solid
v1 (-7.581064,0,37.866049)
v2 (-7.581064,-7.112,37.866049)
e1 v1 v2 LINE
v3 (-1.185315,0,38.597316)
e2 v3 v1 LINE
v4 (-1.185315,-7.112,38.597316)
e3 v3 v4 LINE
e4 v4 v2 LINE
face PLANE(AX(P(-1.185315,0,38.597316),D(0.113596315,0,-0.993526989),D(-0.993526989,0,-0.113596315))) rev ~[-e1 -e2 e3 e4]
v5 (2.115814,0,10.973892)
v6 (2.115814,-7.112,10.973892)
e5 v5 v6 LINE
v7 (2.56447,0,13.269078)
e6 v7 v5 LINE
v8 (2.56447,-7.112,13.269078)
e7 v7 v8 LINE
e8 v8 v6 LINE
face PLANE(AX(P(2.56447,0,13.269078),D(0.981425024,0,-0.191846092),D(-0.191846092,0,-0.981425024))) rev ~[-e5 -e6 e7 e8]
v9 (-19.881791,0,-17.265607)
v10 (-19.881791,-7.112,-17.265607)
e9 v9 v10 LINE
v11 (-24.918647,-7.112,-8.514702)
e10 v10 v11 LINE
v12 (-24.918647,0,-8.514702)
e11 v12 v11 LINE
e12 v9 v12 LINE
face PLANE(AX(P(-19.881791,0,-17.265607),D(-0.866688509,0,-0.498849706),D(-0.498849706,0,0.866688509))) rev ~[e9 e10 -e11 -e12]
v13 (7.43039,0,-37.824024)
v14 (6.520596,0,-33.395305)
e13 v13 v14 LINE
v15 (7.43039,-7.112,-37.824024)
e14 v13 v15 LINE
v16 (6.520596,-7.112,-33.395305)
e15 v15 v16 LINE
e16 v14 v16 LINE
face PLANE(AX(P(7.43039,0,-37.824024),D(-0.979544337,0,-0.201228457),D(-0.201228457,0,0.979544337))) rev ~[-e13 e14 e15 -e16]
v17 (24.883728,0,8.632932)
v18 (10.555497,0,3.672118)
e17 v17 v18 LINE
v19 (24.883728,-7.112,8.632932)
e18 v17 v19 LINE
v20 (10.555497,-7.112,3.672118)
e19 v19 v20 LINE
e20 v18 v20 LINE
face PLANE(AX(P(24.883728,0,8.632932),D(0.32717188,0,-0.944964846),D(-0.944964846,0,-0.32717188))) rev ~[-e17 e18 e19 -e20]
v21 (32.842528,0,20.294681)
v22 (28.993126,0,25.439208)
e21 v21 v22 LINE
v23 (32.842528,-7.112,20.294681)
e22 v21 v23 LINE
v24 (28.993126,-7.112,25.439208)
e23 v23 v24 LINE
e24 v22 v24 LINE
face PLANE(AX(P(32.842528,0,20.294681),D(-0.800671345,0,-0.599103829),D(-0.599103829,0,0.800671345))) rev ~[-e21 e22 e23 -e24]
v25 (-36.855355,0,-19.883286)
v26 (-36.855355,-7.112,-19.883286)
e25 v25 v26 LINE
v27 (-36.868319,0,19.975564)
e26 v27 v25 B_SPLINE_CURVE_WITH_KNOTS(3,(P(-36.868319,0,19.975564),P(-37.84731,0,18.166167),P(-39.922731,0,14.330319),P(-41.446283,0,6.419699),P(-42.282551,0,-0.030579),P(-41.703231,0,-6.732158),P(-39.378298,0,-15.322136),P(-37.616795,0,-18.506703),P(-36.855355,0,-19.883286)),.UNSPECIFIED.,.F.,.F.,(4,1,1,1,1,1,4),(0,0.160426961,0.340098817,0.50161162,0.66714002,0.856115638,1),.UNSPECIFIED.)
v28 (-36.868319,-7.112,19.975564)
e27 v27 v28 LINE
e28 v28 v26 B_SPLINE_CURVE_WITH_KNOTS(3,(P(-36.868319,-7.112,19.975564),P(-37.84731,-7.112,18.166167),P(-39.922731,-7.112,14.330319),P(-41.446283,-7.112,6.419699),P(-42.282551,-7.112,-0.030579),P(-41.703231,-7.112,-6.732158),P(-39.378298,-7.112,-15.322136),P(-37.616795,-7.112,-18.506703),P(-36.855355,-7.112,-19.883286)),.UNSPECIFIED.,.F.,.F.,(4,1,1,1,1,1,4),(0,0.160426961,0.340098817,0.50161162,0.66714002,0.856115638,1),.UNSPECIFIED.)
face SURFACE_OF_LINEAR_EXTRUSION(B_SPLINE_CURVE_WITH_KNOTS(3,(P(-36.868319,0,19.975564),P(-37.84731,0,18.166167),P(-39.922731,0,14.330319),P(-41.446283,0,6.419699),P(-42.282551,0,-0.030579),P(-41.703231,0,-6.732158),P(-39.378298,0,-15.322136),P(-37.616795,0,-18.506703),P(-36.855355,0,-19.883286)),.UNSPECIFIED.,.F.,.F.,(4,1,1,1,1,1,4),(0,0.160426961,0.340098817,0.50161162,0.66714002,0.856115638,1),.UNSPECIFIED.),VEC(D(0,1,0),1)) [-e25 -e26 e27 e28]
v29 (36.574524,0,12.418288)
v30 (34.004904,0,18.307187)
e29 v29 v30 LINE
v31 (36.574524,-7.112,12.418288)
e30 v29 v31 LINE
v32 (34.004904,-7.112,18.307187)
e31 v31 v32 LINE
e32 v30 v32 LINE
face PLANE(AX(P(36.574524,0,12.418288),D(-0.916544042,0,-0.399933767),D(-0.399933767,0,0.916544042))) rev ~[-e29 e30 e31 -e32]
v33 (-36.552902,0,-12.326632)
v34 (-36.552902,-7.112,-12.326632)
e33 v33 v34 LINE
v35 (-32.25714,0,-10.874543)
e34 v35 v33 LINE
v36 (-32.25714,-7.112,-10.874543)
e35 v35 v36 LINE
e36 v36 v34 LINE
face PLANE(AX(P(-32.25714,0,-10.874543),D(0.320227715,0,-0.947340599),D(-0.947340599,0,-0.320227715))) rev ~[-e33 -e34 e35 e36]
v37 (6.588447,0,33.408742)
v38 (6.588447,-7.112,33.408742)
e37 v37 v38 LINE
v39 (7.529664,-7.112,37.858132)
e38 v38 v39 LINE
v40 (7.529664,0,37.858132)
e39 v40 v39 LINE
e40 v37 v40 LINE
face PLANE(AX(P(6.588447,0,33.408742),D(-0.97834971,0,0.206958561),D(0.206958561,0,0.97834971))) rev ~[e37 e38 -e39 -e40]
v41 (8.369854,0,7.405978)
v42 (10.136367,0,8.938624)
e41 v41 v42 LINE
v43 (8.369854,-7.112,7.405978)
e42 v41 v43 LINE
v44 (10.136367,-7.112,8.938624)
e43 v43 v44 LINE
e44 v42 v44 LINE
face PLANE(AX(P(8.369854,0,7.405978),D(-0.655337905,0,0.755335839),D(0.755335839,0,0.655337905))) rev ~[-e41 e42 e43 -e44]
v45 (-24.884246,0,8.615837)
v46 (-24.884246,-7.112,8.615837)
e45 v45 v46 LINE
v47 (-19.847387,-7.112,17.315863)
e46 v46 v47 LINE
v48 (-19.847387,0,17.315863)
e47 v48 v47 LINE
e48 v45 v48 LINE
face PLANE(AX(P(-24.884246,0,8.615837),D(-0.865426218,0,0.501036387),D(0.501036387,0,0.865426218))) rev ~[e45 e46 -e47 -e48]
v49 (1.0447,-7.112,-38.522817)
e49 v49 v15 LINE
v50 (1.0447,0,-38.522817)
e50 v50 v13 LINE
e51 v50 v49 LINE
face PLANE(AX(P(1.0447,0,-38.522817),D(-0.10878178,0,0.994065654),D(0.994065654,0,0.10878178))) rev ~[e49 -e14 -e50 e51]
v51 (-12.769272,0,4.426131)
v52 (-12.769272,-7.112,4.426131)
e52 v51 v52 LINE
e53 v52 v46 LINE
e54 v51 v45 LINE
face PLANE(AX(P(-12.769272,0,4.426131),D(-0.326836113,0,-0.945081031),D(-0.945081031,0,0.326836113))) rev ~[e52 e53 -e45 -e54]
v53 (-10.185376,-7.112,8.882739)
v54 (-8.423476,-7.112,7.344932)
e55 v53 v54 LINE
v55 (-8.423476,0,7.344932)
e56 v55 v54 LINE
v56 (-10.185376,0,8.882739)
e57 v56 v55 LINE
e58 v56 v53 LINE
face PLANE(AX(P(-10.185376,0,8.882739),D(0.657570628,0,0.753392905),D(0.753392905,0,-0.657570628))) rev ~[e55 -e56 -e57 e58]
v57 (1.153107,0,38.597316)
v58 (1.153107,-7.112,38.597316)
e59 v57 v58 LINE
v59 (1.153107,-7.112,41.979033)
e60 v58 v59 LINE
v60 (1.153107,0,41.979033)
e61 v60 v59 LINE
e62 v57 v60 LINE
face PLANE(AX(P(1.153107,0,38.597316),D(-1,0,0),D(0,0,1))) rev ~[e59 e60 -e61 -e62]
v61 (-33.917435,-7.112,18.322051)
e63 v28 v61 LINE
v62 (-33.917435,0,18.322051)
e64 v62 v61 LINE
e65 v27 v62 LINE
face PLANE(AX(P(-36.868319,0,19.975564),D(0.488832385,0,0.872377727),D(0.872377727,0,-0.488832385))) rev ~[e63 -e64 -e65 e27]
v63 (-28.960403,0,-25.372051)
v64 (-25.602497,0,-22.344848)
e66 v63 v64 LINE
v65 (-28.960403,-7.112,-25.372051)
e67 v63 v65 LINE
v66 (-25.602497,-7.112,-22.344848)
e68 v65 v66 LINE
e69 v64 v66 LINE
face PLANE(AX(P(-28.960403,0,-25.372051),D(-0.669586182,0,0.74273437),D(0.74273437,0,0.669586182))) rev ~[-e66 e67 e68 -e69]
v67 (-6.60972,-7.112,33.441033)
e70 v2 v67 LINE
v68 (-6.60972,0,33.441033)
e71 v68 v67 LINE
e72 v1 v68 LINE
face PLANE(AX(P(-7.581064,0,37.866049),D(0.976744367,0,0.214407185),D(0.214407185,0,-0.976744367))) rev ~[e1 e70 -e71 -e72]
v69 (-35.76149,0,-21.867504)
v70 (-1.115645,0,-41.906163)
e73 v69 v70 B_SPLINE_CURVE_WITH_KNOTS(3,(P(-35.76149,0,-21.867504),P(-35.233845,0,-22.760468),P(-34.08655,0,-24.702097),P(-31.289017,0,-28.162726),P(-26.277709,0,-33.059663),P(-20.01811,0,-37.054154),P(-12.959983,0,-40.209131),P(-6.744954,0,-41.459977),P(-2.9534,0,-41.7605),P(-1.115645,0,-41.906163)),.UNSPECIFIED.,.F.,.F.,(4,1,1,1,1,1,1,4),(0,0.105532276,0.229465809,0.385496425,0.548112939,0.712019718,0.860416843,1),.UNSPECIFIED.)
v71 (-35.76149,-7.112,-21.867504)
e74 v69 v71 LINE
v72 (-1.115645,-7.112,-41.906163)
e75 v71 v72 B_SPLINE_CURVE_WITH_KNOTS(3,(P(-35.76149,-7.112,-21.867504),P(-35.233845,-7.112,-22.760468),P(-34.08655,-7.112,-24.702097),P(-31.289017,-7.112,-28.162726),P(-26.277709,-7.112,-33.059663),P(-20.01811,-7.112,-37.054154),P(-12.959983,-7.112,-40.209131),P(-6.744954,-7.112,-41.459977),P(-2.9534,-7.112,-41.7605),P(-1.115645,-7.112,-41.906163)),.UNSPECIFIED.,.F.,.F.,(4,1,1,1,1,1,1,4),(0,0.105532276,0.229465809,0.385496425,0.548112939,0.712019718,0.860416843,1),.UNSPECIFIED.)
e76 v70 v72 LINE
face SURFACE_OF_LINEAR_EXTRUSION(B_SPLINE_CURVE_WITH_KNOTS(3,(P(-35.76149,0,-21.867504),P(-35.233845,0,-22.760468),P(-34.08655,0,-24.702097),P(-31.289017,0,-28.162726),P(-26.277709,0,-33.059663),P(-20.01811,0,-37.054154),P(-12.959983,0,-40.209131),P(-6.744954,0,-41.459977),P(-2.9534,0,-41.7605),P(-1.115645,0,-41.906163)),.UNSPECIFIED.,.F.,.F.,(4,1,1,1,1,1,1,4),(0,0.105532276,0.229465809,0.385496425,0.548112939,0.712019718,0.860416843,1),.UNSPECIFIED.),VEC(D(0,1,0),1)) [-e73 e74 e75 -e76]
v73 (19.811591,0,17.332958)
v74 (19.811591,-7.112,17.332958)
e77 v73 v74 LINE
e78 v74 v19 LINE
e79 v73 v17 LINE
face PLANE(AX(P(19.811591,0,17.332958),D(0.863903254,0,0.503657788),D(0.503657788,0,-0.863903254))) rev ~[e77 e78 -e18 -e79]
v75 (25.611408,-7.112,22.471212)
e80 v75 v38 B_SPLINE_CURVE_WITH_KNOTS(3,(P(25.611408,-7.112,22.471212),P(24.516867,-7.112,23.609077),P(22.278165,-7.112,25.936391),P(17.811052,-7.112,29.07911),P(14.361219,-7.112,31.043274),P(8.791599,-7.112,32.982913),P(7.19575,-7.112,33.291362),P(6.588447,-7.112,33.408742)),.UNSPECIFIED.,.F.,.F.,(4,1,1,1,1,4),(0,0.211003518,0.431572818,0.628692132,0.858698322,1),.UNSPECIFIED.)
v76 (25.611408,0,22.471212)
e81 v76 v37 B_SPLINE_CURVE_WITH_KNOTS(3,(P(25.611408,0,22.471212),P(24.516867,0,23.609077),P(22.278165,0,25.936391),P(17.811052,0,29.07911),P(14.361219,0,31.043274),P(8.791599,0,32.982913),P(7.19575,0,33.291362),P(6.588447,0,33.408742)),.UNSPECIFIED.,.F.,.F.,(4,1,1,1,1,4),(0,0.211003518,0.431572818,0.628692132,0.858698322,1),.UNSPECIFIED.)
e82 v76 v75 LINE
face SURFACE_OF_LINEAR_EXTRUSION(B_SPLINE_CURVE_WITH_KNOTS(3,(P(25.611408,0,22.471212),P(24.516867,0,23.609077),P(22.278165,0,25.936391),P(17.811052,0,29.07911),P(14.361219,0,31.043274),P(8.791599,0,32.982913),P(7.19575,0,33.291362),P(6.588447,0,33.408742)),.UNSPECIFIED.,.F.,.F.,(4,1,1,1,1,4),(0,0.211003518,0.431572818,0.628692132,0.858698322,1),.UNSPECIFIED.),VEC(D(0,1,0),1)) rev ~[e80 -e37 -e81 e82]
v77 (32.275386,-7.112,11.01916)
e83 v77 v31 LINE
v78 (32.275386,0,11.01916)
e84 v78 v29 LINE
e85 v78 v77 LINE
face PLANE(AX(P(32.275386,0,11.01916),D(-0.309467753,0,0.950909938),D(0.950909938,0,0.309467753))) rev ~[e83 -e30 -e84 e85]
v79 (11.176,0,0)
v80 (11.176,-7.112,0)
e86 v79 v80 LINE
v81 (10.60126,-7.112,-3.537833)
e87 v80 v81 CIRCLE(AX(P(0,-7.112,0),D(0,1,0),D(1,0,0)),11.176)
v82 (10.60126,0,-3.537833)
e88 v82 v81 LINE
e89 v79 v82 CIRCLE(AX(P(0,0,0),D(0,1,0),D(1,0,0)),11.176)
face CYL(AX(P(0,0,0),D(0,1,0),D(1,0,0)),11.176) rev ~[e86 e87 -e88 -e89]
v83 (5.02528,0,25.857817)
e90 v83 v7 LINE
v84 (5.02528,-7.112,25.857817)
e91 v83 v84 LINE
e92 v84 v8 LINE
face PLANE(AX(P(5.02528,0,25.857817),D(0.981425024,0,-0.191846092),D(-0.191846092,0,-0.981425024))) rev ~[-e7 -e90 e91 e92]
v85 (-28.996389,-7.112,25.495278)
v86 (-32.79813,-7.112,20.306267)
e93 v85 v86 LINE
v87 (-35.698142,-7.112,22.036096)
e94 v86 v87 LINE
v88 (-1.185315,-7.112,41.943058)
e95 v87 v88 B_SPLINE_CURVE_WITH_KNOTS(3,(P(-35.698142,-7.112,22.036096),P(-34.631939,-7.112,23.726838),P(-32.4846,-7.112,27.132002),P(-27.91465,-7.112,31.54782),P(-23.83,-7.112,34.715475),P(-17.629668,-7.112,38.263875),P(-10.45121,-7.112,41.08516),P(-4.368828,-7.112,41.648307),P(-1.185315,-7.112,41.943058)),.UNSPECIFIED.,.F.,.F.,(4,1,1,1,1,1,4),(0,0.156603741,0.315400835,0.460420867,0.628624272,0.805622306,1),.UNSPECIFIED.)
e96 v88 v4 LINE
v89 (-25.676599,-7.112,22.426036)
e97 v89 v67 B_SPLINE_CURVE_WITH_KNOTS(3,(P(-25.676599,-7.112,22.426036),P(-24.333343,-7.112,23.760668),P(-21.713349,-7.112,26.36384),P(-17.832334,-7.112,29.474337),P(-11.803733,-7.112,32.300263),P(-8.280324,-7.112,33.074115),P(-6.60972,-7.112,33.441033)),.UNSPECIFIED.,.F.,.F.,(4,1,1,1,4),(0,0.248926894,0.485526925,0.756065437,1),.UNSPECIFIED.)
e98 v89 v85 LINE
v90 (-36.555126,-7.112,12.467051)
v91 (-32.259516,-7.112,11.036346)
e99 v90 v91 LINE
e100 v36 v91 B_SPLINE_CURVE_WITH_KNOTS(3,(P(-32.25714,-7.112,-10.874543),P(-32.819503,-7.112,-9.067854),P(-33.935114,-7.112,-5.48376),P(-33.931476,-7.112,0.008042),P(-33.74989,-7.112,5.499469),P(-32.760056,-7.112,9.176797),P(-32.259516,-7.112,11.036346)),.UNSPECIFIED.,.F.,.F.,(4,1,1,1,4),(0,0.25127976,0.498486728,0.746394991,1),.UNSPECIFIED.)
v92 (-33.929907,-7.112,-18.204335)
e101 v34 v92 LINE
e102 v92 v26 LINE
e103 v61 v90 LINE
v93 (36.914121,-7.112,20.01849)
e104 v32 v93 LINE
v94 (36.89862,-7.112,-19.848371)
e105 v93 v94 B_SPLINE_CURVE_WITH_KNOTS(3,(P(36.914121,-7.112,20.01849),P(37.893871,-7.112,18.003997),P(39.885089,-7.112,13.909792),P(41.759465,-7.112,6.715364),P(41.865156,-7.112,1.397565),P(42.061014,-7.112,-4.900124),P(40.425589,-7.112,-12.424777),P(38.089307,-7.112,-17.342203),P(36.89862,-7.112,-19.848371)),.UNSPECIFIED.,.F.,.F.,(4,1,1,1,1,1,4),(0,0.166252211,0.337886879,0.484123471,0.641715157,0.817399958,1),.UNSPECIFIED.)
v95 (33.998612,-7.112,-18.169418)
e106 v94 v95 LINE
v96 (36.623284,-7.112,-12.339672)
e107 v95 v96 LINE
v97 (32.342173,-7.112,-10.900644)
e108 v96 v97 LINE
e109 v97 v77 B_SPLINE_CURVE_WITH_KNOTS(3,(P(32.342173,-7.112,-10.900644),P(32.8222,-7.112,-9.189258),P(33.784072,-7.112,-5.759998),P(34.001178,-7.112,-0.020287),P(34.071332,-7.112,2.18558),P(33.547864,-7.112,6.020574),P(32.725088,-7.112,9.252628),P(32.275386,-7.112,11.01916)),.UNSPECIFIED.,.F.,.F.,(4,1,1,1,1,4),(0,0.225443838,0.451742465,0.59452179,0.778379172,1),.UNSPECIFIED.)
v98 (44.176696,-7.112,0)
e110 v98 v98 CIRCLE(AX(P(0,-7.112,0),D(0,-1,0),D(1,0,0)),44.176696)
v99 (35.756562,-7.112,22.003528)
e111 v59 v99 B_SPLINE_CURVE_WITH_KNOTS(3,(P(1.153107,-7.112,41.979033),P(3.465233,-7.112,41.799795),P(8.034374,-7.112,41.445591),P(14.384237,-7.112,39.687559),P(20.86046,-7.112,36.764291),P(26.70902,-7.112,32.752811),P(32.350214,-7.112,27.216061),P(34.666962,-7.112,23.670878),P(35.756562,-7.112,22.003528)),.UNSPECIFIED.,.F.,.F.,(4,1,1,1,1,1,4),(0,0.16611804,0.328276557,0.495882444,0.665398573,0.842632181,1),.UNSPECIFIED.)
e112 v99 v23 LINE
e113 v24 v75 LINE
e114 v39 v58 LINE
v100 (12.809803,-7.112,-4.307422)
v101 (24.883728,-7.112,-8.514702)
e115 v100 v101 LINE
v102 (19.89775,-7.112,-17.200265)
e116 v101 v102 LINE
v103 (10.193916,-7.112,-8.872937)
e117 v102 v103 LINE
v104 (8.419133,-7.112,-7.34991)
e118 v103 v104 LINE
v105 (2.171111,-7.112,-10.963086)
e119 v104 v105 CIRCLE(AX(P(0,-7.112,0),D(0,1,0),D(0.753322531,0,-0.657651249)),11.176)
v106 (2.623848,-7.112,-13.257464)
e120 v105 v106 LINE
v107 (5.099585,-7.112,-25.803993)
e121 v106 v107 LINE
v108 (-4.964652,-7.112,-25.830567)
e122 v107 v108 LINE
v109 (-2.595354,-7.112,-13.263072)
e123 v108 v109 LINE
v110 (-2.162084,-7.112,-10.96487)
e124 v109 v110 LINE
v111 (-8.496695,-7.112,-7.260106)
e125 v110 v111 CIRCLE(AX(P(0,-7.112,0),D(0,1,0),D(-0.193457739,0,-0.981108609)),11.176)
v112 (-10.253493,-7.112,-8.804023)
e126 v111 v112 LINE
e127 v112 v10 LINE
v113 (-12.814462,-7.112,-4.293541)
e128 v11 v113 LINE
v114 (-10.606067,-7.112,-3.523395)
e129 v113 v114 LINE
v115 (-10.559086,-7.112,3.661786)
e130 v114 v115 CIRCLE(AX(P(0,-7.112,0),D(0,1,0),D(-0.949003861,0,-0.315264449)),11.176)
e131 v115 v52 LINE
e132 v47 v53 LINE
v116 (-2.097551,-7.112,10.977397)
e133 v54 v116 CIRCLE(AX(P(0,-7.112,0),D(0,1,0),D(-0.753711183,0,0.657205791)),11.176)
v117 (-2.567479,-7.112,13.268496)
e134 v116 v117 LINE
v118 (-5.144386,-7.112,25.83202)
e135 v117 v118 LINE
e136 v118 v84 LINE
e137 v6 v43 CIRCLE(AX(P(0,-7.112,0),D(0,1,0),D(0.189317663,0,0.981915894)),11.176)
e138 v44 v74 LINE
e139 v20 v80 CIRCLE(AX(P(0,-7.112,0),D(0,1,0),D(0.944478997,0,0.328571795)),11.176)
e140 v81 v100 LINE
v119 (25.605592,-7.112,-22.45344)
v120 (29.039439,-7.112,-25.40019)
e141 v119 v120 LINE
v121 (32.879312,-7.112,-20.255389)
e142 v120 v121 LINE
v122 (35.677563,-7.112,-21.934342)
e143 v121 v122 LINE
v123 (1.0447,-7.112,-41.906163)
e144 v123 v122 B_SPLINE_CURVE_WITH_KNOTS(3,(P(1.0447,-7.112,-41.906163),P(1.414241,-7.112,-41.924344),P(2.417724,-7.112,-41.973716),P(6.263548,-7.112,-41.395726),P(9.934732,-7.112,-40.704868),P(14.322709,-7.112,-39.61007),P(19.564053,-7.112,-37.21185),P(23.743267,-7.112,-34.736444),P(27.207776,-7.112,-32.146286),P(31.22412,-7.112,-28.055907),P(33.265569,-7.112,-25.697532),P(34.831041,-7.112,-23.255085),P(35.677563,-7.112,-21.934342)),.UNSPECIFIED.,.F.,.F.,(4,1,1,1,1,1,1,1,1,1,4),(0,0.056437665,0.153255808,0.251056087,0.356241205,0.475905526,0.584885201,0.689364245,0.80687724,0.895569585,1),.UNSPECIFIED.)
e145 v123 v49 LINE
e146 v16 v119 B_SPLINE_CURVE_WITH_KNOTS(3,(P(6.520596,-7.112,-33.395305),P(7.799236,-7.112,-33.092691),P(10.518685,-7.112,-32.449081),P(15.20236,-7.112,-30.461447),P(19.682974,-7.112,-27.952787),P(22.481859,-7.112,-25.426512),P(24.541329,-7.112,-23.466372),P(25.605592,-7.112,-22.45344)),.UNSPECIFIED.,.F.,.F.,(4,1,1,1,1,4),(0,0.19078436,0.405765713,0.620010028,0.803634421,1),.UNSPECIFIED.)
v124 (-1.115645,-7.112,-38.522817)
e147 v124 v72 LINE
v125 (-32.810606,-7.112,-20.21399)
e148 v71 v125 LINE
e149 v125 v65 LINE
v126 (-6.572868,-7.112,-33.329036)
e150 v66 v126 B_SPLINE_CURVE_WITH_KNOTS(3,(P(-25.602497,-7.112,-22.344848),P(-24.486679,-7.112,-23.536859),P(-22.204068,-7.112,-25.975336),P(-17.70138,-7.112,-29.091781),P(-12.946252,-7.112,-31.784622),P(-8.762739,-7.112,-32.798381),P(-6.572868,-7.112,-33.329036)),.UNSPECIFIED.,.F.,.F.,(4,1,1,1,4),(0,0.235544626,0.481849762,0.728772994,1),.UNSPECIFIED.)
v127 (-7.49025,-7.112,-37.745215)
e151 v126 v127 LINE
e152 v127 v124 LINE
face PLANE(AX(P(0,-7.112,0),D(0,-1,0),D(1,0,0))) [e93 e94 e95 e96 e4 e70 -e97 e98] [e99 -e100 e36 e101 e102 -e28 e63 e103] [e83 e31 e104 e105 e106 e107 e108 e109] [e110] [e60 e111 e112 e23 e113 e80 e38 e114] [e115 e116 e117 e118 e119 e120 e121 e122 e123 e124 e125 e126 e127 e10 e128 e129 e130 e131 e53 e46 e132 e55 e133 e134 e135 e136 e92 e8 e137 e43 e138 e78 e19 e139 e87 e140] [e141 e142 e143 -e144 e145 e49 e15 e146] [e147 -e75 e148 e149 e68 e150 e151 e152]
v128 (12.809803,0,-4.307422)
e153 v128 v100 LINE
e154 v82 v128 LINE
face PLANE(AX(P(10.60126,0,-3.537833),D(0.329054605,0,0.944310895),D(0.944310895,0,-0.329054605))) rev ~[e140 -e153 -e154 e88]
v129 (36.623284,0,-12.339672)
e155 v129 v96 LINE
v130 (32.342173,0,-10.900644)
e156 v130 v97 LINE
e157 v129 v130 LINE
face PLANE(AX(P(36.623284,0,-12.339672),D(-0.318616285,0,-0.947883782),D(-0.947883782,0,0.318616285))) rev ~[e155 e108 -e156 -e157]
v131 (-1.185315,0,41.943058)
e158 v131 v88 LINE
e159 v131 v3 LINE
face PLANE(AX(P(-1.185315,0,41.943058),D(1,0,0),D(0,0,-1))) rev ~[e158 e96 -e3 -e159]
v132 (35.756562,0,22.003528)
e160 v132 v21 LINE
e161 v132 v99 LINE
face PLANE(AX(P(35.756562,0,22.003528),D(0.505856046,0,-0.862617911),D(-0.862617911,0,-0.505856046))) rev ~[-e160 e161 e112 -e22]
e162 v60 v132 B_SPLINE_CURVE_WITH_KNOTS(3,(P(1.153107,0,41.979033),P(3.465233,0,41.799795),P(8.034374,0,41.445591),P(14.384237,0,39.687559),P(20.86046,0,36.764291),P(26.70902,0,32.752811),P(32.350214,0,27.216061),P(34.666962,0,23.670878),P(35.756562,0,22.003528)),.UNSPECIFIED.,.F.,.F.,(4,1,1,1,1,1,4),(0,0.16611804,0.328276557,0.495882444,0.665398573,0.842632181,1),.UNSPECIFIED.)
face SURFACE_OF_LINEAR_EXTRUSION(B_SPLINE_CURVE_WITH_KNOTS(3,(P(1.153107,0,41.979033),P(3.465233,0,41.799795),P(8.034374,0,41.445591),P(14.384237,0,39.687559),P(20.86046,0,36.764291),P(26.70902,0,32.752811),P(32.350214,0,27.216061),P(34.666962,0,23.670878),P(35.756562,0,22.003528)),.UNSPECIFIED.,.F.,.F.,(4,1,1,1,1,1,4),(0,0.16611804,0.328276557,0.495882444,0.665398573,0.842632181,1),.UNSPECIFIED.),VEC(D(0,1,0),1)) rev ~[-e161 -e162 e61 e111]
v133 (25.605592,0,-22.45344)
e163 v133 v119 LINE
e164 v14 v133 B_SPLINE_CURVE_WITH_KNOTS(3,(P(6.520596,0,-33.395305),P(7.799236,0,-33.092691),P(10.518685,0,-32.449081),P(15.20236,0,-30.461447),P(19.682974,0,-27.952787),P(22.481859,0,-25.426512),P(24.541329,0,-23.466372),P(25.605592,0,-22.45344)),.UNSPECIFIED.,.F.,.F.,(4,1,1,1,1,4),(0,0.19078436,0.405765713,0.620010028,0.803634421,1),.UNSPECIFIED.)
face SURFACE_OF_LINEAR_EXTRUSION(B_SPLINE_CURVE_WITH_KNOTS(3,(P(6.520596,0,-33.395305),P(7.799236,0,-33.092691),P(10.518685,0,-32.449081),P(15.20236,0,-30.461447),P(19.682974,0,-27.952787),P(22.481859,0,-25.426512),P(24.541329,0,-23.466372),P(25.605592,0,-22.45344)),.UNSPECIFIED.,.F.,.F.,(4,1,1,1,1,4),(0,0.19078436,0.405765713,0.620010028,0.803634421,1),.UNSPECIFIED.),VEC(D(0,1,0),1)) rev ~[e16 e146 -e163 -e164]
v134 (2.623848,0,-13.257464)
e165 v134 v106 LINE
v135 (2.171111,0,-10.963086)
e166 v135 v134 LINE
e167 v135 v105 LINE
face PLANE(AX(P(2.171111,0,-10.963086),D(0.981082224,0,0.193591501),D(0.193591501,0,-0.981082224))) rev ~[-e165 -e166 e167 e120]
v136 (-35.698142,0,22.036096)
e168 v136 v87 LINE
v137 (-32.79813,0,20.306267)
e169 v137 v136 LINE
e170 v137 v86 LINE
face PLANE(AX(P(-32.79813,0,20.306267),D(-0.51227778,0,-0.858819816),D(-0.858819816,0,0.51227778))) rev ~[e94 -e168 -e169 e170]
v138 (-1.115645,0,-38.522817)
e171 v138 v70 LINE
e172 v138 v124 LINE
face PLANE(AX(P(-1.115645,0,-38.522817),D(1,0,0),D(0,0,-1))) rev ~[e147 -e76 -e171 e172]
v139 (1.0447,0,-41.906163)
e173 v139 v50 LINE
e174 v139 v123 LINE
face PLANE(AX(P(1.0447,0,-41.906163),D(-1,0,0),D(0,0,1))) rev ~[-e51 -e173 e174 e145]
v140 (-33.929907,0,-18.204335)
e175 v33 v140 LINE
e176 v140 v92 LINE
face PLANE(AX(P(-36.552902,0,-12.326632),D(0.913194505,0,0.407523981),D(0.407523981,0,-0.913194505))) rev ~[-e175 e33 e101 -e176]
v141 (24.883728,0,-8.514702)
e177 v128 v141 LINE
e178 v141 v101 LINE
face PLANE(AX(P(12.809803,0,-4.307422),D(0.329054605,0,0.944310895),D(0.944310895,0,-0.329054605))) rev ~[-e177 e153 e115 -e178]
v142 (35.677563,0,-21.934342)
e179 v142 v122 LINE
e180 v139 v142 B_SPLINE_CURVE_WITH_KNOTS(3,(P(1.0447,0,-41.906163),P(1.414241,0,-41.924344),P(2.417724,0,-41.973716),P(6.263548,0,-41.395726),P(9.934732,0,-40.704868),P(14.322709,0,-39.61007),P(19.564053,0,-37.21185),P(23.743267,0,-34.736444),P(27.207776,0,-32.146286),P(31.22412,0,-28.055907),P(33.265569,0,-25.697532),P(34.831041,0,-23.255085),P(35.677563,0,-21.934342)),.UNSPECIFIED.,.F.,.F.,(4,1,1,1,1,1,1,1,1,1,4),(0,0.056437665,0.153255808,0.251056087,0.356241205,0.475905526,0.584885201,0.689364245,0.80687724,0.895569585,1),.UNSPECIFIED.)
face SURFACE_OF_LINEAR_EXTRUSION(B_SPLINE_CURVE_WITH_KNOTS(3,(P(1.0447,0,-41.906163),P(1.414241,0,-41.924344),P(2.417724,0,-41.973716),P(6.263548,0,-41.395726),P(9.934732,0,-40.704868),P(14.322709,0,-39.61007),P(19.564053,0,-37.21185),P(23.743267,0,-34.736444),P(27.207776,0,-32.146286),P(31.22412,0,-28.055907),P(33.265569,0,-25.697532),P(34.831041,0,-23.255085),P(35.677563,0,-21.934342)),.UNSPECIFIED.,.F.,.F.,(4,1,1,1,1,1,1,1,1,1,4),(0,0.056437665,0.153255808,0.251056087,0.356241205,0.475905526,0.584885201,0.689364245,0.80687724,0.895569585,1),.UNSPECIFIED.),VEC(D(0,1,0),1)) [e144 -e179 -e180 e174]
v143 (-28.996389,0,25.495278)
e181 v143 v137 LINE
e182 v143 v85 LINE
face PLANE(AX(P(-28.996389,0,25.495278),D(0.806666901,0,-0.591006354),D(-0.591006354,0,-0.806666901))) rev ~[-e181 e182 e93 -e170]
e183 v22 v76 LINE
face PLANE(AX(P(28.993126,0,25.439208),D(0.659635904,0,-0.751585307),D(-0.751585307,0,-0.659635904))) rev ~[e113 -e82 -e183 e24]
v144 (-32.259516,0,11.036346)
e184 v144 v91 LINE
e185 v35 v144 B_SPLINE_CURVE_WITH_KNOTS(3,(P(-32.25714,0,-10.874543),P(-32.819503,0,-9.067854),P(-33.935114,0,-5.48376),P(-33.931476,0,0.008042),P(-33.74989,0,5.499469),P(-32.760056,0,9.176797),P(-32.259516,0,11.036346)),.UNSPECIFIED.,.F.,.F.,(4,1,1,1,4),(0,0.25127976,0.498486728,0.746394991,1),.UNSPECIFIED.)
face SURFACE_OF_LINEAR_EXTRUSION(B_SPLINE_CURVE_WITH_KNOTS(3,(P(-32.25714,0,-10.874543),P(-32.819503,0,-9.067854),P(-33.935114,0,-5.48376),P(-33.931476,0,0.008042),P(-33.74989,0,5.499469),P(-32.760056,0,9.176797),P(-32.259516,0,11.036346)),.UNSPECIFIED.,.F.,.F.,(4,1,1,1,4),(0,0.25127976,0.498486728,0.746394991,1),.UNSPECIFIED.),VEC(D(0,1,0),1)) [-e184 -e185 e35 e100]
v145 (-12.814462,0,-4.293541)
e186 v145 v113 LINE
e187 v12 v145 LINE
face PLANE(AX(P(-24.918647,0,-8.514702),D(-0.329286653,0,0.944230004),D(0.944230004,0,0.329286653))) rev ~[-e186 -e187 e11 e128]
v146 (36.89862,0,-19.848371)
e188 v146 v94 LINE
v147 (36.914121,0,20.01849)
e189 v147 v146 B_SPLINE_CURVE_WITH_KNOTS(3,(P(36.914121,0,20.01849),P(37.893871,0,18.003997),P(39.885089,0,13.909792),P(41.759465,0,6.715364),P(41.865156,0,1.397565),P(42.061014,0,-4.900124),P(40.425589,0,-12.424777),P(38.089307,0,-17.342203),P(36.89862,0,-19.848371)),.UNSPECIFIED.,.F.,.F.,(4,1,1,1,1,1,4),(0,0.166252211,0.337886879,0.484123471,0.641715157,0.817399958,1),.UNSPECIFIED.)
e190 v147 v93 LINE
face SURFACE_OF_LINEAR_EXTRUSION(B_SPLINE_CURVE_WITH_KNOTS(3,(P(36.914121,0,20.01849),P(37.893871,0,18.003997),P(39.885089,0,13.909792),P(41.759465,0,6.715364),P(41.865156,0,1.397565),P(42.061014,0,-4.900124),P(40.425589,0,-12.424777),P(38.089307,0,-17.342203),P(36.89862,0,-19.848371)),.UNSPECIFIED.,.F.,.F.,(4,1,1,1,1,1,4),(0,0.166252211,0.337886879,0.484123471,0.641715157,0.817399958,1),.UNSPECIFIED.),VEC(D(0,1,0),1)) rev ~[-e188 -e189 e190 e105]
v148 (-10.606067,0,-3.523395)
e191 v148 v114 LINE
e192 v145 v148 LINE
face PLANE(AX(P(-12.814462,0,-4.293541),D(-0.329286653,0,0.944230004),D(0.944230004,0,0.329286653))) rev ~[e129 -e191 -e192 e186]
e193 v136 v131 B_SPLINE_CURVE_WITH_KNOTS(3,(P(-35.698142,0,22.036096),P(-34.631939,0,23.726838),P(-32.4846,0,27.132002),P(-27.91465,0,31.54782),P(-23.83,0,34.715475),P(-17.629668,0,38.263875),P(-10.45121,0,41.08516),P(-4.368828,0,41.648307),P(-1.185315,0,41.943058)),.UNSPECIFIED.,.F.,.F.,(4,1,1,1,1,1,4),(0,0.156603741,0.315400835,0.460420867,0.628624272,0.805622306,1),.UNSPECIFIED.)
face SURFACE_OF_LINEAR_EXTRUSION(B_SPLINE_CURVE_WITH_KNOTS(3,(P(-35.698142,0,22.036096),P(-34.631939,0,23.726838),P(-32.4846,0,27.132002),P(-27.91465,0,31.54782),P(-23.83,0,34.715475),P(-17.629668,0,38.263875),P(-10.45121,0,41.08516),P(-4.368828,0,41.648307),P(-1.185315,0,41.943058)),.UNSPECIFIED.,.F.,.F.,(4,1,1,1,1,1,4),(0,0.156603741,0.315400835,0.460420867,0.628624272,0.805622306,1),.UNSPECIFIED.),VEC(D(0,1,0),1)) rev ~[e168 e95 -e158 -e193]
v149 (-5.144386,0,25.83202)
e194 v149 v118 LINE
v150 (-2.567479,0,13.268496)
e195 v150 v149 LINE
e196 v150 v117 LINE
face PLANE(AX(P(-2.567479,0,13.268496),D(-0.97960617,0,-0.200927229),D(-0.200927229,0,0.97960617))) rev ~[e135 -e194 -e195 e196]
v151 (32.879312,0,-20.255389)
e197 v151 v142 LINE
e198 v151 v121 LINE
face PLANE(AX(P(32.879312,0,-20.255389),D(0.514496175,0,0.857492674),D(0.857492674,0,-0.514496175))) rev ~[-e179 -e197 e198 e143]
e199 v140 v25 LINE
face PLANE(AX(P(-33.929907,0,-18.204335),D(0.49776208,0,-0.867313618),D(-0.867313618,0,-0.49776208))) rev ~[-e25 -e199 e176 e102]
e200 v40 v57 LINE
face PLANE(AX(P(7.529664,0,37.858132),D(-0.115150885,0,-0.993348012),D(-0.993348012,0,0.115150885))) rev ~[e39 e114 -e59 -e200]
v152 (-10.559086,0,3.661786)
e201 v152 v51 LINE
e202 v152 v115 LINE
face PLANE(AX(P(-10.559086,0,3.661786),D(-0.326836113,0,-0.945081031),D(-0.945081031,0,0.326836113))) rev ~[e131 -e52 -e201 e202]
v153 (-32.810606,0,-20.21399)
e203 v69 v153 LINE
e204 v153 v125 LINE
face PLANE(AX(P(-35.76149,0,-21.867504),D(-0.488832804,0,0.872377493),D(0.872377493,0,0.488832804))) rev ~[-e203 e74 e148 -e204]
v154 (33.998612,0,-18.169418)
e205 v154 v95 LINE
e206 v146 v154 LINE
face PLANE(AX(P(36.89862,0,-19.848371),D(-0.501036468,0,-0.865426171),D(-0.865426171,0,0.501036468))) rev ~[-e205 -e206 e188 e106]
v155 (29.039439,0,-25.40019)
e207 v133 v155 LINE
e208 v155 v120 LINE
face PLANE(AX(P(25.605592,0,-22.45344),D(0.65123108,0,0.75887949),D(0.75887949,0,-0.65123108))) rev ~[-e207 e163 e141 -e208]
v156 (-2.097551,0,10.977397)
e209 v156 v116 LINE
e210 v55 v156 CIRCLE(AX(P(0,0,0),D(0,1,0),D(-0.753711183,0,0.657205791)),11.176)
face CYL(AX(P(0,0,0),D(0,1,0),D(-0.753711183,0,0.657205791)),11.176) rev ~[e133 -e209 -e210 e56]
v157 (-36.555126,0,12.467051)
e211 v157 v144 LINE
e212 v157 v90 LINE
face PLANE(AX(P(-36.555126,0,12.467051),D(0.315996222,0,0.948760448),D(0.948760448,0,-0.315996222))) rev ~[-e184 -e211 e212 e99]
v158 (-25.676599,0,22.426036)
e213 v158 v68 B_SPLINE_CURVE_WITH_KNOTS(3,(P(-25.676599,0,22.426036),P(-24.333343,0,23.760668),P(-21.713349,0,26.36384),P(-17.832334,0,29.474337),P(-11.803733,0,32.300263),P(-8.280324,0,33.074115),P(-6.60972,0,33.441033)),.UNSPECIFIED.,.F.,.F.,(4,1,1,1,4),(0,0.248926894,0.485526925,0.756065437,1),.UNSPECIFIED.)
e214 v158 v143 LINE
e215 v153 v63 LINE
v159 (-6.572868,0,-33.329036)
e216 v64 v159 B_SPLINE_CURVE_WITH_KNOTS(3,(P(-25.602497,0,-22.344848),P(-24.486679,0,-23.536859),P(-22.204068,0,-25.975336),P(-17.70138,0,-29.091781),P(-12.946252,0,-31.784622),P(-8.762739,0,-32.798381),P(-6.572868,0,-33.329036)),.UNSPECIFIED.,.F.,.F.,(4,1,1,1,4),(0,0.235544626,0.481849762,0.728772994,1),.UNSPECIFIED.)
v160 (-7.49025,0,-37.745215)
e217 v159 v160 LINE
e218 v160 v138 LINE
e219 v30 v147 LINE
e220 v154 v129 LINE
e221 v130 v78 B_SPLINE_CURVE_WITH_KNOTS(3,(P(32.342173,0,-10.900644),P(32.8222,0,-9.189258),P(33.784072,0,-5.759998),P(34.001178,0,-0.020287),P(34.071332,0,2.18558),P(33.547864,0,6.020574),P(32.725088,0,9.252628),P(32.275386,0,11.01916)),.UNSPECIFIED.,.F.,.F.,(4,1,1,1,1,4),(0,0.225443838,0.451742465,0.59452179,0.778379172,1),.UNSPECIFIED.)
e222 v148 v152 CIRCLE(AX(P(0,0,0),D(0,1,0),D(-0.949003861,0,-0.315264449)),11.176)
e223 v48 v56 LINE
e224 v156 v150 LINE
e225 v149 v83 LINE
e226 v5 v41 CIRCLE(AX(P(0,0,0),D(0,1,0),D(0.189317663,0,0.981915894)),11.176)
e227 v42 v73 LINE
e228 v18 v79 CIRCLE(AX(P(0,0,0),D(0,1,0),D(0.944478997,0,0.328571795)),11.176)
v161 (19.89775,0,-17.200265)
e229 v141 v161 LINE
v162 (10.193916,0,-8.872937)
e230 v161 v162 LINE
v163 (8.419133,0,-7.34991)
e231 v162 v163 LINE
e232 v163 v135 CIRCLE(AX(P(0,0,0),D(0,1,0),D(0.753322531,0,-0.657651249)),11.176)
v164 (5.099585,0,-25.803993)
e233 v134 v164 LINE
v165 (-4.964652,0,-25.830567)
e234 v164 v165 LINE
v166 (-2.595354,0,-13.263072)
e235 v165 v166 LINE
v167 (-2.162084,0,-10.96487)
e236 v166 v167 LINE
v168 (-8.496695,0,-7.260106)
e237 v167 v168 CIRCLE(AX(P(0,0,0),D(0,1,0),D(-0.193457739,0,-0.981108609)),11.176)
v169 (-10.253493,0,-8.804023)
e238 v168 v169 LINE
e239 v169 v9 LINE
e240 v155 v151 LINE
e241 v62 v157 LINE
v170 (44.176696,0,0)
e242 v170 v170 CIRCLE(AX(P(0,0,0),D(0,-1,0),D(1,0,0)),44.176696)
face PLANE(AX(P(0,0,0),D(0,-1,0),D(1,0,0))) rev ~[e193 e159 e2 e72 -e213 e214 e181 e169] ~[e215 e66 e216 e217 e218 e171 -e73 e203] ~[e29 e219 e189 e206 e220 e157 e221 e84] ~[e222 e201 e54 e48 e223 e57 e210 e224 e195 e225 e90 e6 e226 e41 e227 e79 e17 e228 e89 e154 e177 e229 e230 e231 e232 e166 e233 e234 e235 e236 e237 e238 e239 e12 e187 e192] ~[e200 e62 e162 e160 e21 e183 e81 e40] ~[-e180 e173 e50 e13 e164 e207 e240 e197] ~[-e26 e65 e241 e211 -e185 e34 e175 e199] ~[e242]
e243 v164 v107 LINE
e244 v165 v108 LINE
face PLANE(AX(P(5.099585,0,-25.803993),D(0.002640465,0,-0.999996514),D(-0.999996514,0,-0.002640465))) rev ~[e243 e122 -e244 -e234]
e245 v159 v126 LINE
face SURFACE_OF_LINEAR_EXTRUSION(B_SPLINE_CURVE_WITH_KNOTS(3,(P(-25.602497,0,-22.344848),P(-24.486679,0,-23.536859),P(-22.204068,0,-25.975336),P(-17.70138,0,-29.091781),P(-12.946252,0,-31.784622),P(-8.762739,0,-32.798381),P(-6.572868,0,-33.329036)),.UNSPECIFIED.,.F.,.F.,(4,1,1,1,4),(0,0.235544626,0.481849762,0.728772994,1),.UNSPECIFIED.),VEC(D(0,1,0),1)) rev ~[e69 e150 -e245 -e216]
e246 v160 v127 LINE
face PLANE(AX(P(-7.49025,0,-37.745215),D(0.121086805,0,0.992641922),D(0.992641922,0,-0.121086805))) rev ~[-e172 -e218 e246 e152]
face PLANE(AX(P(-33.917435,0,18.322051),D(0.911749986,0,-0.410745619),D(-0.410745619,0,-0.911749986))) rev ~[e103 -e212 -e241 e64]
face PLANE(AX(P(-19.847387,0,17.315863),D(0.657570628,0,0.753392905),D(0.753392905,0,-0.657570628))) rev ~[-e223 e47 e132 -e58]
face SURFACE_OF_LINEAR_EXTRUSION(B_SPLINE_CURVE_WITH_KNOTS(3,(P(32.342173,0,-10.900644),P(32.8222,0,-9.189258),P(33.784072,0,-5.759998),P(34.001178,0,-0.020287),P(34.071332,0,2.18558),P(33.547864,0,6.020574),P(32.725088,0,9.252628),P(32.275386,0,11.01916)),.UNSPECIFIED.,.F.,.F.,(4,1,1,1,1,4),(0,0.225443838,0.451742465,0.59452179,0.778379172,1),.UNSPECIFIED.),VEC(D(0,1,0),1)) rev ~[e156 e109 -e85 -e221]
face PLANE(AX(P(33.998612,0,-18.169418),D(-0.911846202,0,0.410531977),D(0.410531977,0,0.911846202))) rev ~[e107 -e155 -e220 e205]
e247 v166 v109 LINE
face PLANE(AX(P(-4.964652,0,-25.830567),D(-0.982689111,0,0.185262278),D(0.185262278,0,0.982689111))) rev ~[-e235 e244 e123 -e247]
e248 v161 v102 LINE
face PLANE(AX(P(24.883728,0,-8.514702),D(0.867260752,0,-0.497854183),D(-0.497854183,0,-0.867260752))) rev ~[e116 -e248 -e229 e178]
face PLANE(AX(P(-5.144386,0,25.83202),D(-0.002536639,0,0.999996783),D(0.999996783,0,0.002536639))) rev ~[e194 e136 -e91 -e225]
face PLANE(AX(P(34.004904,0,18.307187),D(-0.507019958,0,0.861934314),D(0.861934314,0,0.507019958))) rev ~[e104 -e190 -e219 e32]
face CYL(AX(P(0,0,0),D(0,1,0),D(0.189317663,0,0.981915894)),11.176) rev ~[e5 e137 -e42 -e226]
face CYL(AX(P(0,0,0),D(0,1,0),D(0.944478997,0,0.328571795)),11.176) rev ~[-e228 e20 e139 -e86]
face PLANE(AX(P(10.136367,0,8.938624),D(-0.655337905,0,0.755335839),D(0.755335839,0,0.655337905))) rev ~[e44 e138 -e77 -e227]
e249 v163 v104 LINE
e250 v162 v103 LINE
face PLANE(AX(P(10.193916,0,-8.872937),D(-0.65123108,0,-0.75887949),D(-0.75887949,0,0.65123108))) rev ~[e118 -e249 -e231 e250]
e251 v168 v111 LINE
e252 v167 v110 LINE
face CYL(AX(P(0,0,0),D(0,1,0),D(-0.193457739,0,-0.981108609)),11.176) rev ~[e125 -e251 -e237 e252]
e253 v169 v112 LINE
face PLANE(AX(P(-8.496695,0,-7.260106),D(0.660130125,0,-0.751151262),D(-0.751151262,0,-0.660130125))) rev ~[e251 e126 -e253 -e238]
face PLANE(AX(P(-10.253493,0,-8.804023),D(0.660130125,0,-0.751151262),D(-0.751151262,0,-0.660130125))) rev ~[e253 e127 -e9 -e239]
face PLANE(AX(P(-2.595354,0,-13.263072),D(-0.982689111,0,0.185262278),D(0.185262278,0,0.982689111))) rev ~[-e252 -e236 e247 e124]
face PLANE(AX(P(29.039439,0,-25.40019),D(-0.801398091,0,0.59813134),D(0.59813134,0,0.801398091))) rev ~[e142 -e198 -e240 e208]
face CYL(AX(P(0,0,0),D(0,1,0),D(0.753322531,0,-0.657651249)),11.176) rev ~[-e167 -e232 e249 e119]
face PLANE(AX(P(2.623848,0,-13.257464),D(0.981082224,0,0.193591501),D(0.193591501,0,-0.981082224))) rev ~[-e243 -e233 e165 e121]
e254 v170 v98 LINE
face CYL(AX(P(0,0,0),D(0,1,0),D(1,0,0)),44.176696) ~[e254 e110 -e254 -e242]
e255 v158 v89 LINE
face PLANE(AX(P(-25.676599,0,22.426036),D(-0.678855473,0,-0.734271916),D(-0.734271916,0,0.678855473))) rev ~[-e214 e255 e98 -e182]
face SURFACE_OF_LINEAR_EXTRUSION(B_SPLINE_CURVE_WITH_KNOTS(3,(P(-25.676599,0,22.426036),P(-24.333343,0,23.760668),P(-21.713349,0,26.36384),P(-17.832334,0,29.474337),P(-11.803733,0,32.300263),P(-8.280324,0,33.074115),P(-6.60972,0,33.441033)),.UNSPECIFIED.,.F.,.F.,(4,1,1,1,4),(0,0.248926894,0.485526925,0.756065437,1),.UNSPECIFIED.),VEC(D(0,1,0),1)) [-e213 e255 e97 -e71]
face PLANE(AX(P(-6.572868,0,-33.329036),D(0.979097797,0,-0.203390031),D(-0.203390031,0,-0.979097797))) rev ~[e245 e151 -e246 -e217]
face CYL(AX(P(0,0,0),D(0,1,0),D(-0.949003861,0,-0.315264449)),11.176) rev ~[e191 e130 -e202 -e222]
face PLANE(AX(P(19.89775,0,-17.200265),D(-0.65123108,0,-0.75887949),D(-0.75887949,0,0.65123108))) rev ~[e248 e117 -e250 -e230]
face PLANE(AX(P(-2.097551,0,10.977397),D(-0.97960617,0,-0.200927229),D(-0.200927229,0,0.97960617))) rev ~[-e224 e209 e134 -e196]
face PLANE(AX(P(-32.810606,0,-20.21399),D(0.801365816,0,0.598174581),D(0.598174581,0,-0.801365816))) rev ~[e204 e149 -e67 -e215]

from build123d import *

# Parameters (mm, degrees)
F0_R     = 44.1766957939
F1_DEPTH = 7.112


with BuildPart() as f1:
    # F0 (on Front) → F1 (new body)
    with BuildSketch(Plane.XZ):
        Circle(F0_R)
        with BuildLine():
            Line((-35.7614904642, -21.8675043434), (-32.8106060624, -20.2139895409))
            Line((-32.8106060624, -20.2139895409), (-28.960403055, -25.3720507026))
            Line((-28.960403055, -25.3720507026), (-25.6024971604, -22.3448481411))
            add(Edge.make_bspline(
                [(-25.6024971604, -22.3448481411), (-24.4866790774, -23.5368590352), (-22.204068401, -25.9753360906), (-17.7013799325, -29.0917808365), (-12.9462521926, -31.7846215915), (-8.7627386027, -32.7983811652), (-6.5728682093, -33.3290360868)],
                knots=[0, 0, 0, 0, 0.2355446258, 0.4818497619, 0.7287729939, 1, 1, 1, 1], degree=3))
            Line((-6.5728682093, -33.3290360868), (-7.490250282, -37.7452149987))
            Line((-7.490250282, -37.7452149987), (-1.1156453984, -38.5228171945))
            Line((-1.1156453984, -38.5228171945), (-1.1156453984, -41.9061630964))
            add(Edge.make_bspline(
                [(-35.7614904642, -21.8675043434), (-35.2338448714, -22.7604678514), (-34.0865501542, -24.7020974776), (-31.2890173993, -28.1627256368), (-26.2777085453, -33.0596634812), (-20.0181100974, -37.0541543915), (-12.9599832666, -40.2091309454), (-6.7449542396, -41.4599766224), (-2.9534000516, -41.7605002287), (-1.1156453984, -41.9061630964)],
                knots=[0, 0, 0, 0, 0.1055322762, 0.2294658093, 0.3854964247, 0.5481129391, 0.7120197184, 0.8604168433, 1, 1, 1, 1], degree=3))
        make_face(mode=Mode.SUBTRACT)
        with BuildLine():
            Line((29.0394388139, -25.4001896828), (32.8793115914, -20.255388692))
            Line((32.8793115914, -20.255388692), (35.6775633991, -21.9343416393))
            add(Edge.make_bspline(
                [(1.0446998058, -41.9061630964), (1.4142405393, -41.9243444832), (2.4177240084, -41.9737158229), (6.2635475029, -41.3957263121), (9.9347318114, -40.7048681306), (14.3227087538, -39.6100702965), (19.5640532357, -37.2118500308), (23.7432665832, -34.7364439875), (27.2077761914, -32.1462858648), (31.2241198499, -28.0559070873), (33.2655694418, -25.6975315778), (34.8310406537, -23.2550853619), (35.6775633991, -21.9343416393)],
                knots=[0, 0, 0, 0, 0.0564376647, 0.1532558075, 0.2510560866, 0.3562412055, 0.4759055262, 0.5848852008, 0.689364245, 0.8068772402, 0.8955695847, 1, 1, 1, 1], degree=3))
            Line((1.0446998058, -41.9061630964), (1.0446998058, -38.5228171945))
            Line((1.0446998058, -38.5228171945), (7.4303904548, -37.824023515))
            Line((7.4303904548, -37.824023515), (6.5205958672, -33.3953052759))
            add(Edge.make_bspline(
                [(6.5205958672, -33.3953052759), (7.7992360224, -33.0926907352), (10.5186850112, -32.449081348), (15.2023600967, -30.4614472633), (19.6829738823, -27.9527868768), (22.4818586441, -25.4265122473), (24.5413294263, -23.4663723344), (25.6055921743, -22.453440319)],
                knots=[0, 0, 0, 0, 0.1907843597, 0.4057657128, 0.6200100275, 0.8036344211, 1, 1, 1, 1], degree=3))
            Line((25.6055921743, -22.453440319), (29.0394388139, -25.4001896828))
        make_face(mode=Mode.SUBTRACT)
        with BuildLine():
            Line((-33.9299067855, -18.2043351233), (-36.8553549051, -19.8832862079))
            add(Edge.make_bspline(
                [(-36.8683189154, 19.9755635113), (-37.8473096829, 18.1661673169), (-39.9227314212, 14.3303188905), (-41.4462825011, 6.4196994134), (-42.2825510016, -0.0305786633), (-41.7032306283, -6.7321583358), (-39.3782984167, -15.3221356766), (-37.6167947073, -18.5067030452), (-36.8553549051, -19.8832862079)],
                knots=[0, 0, 0, 0, 0.1604269609, 0.3400988172, 0.5016116203, 0.6671400202, 0.8561156381, 1, 1, 1, 1], degree=3))
            Line((-36.8683189154, 19.9755635113), (-33.9174345136, 18.3220505714))
            Line((-33.9174345136, 18.3220505714), (-36.5551263094, 12.4670509249))
            Line((-36.5551263094, 12.4670509249), (-32.259516418, 11.0363457352))
            add(Edge.make_bspline(
                [(-32.2571396828, -10.874543339), (-32.8195026762, -9.0678543769), (-33.9351137732, -5.4837596226), (-33.931475749, 0.0080421078), (-33.7498900918, 5.4994693455), (-32.7600555231, 9.1767965485), (-32.259516418, 11.0363457352)],
                knots=[0, 0, 0, 0, 0.2512797598, 0.4984867279, 0.7463949913, 1, 1, 1, 1], degree=3))
            Line((-32.2571396828, -10.874543339), (-36.5529023111, -12.326631695))
            Line((-36.5529023111, -12.326631695), (-33.9299067855, -18.2043351233))
        make_face(mode=Mode.SUBTRACT)
        with BuildLine():
            Line((2.1711112191, -10.9630858828), (2.6238481259, -13.2574641479))
            Line((2.6238481259, -13.2574641479), (5.0995848142, -25.8039925247))
            Line((5.0995848142, -25.8039925247), (-4.9646515399, -25.8305668831))
            Line((-4.9646515399, -25.8305668831), (-2.595354112, -13.2630717277))
            Line((-2.595354112, -13.2630717277), (-2.1620836942, -10.9648698168))
            ThreePointArc((-2.1620836942, -10.9648698168), (-5.6421371106, -9.6472413065), (-8.4966954033, -7.2601062819))
            Line((-8.4966954033, -7.2601062819), (-10.2534928431, -8.8040228951))
            Line((-10.2534928431, -8.8040228951), (-19.8817905039, -17.2656066716))
            Line((-19.8817905039, -17.2656066716), (-24.918647483, -8.5147023201))
            Line((-24.918647483, -8.5147023201), (-12.8144619972, -4.2935414687))
            Line((-12.8144619972, -4.2935414687), (-10.6060671452, -3.5233954803))
            ThreePointArc((-10.6060671452, -3.5233954803), (-11.1757611038, 0.0730735954), (-10.5590862727, 3.6617855053))
            Line((-10.5590862727, 3.6617855053), (-12.769271678, 4.4261309782))
            Line((-12.769271678, 4.4261309782), (-24.8842462897, 8.6158365011))
            Line((-24.8842462897, 8.6158365011), (-19.847387448, 17.3158627003))
            Line((-19.847387448, 17.3158627003), (-10.1853755393, 8.8827394279))
            Line((-10.1853755393, 8.8827394279), (-8.4234761864, 7.3449319219))
            ThreePointArc((-8.4234761864, 7.3449319219), (-5.5652229601, 9.6918145569), (-2.0975513649, 10.9773974271))
            Line((-2.0975513649, 10.9773974271), (-2.567479075, 13.2684959894))
            Line((-2.567479075, 13.2684959894), (-5.1443860866, 25.8320197463))
            Line((-5.1443860866, 25.8320197463), (5.0252802209, 25.857816598))
            Line((5.0252802209, 25.857816598), (2.5644704001, 13.2690778198))
            Line((2.5644704001, 13.2690778198), (2.1158141978, 10.9738920297))
            ThreePointArc((2.1158141978, 10.9738920297), (5.5380334394, 9.7073766603), (8.3698544885, 7.4059781151))
            Line((8.3698544885, 7.4059781151), (10.1363668293, 8.9386241739))
            Line((10.1363668293, 8.9386241739), (19.8115911335, 17.3329580575))
            Line((19.8115911335, 17.3329580575), (24.8837284744, 8.6329318583))
            Line((24.8837284744, 8.6329318583), (12.7654122958, 4.4372495467))
            Line((12.7654122958, 4.4372495467), (10.5554972691, 3.6721183807))
            ThreePointArc((10.5554972691, 3.6721183807), (11.0197825178, 1.8620873396), (11.176, 0))
            ThreePointArc((11.176, 0), (11.0313792921, -1.7921068369), (10.6012600367, -3.5378329008))
            Line((10.6012600367, -3.5378329008), (12.8098029544, -4.3074218382))
            Line((12.8098029544, -4.3074218382), (24.8837284744, -8.5147023201))
            Line((24.8837284744, -8.5147023201), (19.8977496475, -17.2002650797))
            Line((19.8977496475, -17.2002650797), (10.1939157276, -8.8729373243))
            Line((10.1939157276, -8.8729373243), (8.419132603, -7.3499103541))
            ThreePointArc((8.419132603, -7.3499103541), (5.5948257706, -9.6747558417), (2.1711112191, -10.9630858828))
        make_face(mode=Mode.SUBTRACT)
        with BuildLine():
            add(Edge.make_bspline(
                [(-35.6981419027, 22.0360960811), (-34.6319390776, 23.7268379349), (-32.484600451, 27.1320017598), (-27.9146496351, 31.5478201486), (-23.8299996259, 34.7154749769), (-17.6296681743, 38.2638751465), (-10.4512096865, 41.0851595996), (-4.3688276658, 41.648307375), (-1.1853148462, 41.9430583715)],
                knots=[0, 0, 0, 0, 0.1566037405, 0.3154008348, 0.4604208672, 0.6286242725, 0.8056223063, 1, 1, 1, 1], degree=3))
            Line((-1.1853148462, 41.9430583715), (-1.1853148462, 38.5973155499))
            Line((-1.1853148462, 38.5973155499), (-7.5810640119, 37.8660485148))
            Line((-7.5810640119, 37.8660485148), (-6.6097197123, 33.4410332143))
            add(Edge.make_bspline(
                [(-25.6765991733, 22.4260363519), (-24.3333432454, 23.7606678176), (-21.7133494369, 26.3638397849), (-17.8323338836, 29.4743374528), (-11.8037332381, 32.3002630954), (-8.2803244864, 33.0741154161), (-6.6097197123, 33.4410332143)],
                knots=[0, 0, 0, 0, 0.2489268939, 0.4855269254, 0.7560654369, 1, 1, 1, 1], degree=3))
            Line((-25.6765991733, 22.4260363519), (-28.9963893592, 25.4952777177))
            Line((-28.9963893592, 25.4952777177), (-32.7981300652, 20.3062668443))
            Line((-32.7981300652, 20.3062668443), (-35.6981419027, 22.0360960811))
        make_face(mode=Mode.SUBTRACT)
        with BuildLine():
            Line((36.574523896, 12.4182878062), (34.0049043298, 18.3071866632))
            Line((34.0049043298, 18.3071866632), (36.9141213596, 20.0184900314))
            add(Edge.make_bspline(
                [(36.9141213596, 20.0184900314), (37.8938705727, 18.0039971875), (39.8850886304, 13.9097917787), (41.7594651651, 6.715363759), (41.8651560314, 1.397564654), (42.0610136055, -4.9001243802), (40.4255886988, -12.4247769104), (38.0893073425, -17.3422025728), (36.8986204267, -19.8483709246)],
                knots=[0, 0, 0, 0, 0.1662522108, 0.3378868794, 0.484123471, 0.6417151571, 0.8173999576, 1, 1, 1, 1], degree=3))
            Line((36.8986204267, -19.8483709246), (33.9986123145, -18.1694179773))
            Line((33.9986123145, -18.1694179773), (36.6232842207, -12.3396720737))
            Line((36.6232842207, -12.3396720737), (32.3421731591, -10.9006436542))
            add(Edge.make_bspline(
                [(32.3421731591, -10.9006436542), (32.8221995517, -9.1892580119), (33.7840723972, -5.7599978652), (34.001178244, -0.020287475), (34.0713324341, 2.1855798208), (33.5478638453, 6.0205740931), (32.7250879437, 9.2526276599), (32.2753861547, 11.0191600397)],
                knots=[0, 0, 0, 0, 0.2254438377, 0.4517424647, 0.5945217901, 0.7783791722, 1, 1, 1, 1], degree=3))
            Line((32.2753861547, 11.0191600397), (36.574523896, 12.4182878062))
        make_face(mode=Mode.SUBTRACT)
        with BuildLine():
            Line((1.1531068012, 38.5973155499), (1.1531068012, 41.9790335))
            add(Edge.make_bspline(
                [(1.1531068012, 41.9790335), (3.4652329605, 41.7997953198), (8.0343743744, 41.4455912082), (14.3842373709, 39.6875593474), (20.8604600663, 36.7642913447), (26.7090201677, 32.7528107578), (32.3502142279, 27.2160608198), (34.6669622808, 23.6708778177), (35.7565619051, 22.0035277307)],
                knots=[0, 0, 0, 0, 0.1661180396, 0.3282765568, 0.4958824441, 0.6653985731, 0.8426321806, 1, 1, 1, 1], degree=3))
            Line((35.7565619051, 22.0035277307), (32.842528075, 20.2946811914))
            Line((32.842528075, 20.2946811914), (28.9931260049, 25.4392083734))
            Line((28.9931260049, 25.4392083734), (25.6114080548, 22.4712118506))
            add(Edge.make_bspline(
                [(25.6114080548, 22.4712118506), (24.5168671139, 23.6090766646), (22.278164541, 25.9363910587), (17.811051605, 29.0791098257), (14.3612187846, 31.0432744902), (8.7915992704, 32.9829132835), (7.1957498764, 33.2913618908), (6.5884473734, 33.408742398)],
                knots=[0, 0, 0, 0, 0.211003518, 0.4315728183, 0.6286921316, 0.8586983216, 1, 1, 1, 1], degree=3))
            Line((6.5884473734, 33.408742398), (7.529664319, 37.858132273))
            Line((7.529664319, 37.858132273), (1.1531068012, 38.5973155499))
        make_face(mode=Mode.SUBTRACT)
    extrude(amount=F1_DEPTH)


solid = f1.part
